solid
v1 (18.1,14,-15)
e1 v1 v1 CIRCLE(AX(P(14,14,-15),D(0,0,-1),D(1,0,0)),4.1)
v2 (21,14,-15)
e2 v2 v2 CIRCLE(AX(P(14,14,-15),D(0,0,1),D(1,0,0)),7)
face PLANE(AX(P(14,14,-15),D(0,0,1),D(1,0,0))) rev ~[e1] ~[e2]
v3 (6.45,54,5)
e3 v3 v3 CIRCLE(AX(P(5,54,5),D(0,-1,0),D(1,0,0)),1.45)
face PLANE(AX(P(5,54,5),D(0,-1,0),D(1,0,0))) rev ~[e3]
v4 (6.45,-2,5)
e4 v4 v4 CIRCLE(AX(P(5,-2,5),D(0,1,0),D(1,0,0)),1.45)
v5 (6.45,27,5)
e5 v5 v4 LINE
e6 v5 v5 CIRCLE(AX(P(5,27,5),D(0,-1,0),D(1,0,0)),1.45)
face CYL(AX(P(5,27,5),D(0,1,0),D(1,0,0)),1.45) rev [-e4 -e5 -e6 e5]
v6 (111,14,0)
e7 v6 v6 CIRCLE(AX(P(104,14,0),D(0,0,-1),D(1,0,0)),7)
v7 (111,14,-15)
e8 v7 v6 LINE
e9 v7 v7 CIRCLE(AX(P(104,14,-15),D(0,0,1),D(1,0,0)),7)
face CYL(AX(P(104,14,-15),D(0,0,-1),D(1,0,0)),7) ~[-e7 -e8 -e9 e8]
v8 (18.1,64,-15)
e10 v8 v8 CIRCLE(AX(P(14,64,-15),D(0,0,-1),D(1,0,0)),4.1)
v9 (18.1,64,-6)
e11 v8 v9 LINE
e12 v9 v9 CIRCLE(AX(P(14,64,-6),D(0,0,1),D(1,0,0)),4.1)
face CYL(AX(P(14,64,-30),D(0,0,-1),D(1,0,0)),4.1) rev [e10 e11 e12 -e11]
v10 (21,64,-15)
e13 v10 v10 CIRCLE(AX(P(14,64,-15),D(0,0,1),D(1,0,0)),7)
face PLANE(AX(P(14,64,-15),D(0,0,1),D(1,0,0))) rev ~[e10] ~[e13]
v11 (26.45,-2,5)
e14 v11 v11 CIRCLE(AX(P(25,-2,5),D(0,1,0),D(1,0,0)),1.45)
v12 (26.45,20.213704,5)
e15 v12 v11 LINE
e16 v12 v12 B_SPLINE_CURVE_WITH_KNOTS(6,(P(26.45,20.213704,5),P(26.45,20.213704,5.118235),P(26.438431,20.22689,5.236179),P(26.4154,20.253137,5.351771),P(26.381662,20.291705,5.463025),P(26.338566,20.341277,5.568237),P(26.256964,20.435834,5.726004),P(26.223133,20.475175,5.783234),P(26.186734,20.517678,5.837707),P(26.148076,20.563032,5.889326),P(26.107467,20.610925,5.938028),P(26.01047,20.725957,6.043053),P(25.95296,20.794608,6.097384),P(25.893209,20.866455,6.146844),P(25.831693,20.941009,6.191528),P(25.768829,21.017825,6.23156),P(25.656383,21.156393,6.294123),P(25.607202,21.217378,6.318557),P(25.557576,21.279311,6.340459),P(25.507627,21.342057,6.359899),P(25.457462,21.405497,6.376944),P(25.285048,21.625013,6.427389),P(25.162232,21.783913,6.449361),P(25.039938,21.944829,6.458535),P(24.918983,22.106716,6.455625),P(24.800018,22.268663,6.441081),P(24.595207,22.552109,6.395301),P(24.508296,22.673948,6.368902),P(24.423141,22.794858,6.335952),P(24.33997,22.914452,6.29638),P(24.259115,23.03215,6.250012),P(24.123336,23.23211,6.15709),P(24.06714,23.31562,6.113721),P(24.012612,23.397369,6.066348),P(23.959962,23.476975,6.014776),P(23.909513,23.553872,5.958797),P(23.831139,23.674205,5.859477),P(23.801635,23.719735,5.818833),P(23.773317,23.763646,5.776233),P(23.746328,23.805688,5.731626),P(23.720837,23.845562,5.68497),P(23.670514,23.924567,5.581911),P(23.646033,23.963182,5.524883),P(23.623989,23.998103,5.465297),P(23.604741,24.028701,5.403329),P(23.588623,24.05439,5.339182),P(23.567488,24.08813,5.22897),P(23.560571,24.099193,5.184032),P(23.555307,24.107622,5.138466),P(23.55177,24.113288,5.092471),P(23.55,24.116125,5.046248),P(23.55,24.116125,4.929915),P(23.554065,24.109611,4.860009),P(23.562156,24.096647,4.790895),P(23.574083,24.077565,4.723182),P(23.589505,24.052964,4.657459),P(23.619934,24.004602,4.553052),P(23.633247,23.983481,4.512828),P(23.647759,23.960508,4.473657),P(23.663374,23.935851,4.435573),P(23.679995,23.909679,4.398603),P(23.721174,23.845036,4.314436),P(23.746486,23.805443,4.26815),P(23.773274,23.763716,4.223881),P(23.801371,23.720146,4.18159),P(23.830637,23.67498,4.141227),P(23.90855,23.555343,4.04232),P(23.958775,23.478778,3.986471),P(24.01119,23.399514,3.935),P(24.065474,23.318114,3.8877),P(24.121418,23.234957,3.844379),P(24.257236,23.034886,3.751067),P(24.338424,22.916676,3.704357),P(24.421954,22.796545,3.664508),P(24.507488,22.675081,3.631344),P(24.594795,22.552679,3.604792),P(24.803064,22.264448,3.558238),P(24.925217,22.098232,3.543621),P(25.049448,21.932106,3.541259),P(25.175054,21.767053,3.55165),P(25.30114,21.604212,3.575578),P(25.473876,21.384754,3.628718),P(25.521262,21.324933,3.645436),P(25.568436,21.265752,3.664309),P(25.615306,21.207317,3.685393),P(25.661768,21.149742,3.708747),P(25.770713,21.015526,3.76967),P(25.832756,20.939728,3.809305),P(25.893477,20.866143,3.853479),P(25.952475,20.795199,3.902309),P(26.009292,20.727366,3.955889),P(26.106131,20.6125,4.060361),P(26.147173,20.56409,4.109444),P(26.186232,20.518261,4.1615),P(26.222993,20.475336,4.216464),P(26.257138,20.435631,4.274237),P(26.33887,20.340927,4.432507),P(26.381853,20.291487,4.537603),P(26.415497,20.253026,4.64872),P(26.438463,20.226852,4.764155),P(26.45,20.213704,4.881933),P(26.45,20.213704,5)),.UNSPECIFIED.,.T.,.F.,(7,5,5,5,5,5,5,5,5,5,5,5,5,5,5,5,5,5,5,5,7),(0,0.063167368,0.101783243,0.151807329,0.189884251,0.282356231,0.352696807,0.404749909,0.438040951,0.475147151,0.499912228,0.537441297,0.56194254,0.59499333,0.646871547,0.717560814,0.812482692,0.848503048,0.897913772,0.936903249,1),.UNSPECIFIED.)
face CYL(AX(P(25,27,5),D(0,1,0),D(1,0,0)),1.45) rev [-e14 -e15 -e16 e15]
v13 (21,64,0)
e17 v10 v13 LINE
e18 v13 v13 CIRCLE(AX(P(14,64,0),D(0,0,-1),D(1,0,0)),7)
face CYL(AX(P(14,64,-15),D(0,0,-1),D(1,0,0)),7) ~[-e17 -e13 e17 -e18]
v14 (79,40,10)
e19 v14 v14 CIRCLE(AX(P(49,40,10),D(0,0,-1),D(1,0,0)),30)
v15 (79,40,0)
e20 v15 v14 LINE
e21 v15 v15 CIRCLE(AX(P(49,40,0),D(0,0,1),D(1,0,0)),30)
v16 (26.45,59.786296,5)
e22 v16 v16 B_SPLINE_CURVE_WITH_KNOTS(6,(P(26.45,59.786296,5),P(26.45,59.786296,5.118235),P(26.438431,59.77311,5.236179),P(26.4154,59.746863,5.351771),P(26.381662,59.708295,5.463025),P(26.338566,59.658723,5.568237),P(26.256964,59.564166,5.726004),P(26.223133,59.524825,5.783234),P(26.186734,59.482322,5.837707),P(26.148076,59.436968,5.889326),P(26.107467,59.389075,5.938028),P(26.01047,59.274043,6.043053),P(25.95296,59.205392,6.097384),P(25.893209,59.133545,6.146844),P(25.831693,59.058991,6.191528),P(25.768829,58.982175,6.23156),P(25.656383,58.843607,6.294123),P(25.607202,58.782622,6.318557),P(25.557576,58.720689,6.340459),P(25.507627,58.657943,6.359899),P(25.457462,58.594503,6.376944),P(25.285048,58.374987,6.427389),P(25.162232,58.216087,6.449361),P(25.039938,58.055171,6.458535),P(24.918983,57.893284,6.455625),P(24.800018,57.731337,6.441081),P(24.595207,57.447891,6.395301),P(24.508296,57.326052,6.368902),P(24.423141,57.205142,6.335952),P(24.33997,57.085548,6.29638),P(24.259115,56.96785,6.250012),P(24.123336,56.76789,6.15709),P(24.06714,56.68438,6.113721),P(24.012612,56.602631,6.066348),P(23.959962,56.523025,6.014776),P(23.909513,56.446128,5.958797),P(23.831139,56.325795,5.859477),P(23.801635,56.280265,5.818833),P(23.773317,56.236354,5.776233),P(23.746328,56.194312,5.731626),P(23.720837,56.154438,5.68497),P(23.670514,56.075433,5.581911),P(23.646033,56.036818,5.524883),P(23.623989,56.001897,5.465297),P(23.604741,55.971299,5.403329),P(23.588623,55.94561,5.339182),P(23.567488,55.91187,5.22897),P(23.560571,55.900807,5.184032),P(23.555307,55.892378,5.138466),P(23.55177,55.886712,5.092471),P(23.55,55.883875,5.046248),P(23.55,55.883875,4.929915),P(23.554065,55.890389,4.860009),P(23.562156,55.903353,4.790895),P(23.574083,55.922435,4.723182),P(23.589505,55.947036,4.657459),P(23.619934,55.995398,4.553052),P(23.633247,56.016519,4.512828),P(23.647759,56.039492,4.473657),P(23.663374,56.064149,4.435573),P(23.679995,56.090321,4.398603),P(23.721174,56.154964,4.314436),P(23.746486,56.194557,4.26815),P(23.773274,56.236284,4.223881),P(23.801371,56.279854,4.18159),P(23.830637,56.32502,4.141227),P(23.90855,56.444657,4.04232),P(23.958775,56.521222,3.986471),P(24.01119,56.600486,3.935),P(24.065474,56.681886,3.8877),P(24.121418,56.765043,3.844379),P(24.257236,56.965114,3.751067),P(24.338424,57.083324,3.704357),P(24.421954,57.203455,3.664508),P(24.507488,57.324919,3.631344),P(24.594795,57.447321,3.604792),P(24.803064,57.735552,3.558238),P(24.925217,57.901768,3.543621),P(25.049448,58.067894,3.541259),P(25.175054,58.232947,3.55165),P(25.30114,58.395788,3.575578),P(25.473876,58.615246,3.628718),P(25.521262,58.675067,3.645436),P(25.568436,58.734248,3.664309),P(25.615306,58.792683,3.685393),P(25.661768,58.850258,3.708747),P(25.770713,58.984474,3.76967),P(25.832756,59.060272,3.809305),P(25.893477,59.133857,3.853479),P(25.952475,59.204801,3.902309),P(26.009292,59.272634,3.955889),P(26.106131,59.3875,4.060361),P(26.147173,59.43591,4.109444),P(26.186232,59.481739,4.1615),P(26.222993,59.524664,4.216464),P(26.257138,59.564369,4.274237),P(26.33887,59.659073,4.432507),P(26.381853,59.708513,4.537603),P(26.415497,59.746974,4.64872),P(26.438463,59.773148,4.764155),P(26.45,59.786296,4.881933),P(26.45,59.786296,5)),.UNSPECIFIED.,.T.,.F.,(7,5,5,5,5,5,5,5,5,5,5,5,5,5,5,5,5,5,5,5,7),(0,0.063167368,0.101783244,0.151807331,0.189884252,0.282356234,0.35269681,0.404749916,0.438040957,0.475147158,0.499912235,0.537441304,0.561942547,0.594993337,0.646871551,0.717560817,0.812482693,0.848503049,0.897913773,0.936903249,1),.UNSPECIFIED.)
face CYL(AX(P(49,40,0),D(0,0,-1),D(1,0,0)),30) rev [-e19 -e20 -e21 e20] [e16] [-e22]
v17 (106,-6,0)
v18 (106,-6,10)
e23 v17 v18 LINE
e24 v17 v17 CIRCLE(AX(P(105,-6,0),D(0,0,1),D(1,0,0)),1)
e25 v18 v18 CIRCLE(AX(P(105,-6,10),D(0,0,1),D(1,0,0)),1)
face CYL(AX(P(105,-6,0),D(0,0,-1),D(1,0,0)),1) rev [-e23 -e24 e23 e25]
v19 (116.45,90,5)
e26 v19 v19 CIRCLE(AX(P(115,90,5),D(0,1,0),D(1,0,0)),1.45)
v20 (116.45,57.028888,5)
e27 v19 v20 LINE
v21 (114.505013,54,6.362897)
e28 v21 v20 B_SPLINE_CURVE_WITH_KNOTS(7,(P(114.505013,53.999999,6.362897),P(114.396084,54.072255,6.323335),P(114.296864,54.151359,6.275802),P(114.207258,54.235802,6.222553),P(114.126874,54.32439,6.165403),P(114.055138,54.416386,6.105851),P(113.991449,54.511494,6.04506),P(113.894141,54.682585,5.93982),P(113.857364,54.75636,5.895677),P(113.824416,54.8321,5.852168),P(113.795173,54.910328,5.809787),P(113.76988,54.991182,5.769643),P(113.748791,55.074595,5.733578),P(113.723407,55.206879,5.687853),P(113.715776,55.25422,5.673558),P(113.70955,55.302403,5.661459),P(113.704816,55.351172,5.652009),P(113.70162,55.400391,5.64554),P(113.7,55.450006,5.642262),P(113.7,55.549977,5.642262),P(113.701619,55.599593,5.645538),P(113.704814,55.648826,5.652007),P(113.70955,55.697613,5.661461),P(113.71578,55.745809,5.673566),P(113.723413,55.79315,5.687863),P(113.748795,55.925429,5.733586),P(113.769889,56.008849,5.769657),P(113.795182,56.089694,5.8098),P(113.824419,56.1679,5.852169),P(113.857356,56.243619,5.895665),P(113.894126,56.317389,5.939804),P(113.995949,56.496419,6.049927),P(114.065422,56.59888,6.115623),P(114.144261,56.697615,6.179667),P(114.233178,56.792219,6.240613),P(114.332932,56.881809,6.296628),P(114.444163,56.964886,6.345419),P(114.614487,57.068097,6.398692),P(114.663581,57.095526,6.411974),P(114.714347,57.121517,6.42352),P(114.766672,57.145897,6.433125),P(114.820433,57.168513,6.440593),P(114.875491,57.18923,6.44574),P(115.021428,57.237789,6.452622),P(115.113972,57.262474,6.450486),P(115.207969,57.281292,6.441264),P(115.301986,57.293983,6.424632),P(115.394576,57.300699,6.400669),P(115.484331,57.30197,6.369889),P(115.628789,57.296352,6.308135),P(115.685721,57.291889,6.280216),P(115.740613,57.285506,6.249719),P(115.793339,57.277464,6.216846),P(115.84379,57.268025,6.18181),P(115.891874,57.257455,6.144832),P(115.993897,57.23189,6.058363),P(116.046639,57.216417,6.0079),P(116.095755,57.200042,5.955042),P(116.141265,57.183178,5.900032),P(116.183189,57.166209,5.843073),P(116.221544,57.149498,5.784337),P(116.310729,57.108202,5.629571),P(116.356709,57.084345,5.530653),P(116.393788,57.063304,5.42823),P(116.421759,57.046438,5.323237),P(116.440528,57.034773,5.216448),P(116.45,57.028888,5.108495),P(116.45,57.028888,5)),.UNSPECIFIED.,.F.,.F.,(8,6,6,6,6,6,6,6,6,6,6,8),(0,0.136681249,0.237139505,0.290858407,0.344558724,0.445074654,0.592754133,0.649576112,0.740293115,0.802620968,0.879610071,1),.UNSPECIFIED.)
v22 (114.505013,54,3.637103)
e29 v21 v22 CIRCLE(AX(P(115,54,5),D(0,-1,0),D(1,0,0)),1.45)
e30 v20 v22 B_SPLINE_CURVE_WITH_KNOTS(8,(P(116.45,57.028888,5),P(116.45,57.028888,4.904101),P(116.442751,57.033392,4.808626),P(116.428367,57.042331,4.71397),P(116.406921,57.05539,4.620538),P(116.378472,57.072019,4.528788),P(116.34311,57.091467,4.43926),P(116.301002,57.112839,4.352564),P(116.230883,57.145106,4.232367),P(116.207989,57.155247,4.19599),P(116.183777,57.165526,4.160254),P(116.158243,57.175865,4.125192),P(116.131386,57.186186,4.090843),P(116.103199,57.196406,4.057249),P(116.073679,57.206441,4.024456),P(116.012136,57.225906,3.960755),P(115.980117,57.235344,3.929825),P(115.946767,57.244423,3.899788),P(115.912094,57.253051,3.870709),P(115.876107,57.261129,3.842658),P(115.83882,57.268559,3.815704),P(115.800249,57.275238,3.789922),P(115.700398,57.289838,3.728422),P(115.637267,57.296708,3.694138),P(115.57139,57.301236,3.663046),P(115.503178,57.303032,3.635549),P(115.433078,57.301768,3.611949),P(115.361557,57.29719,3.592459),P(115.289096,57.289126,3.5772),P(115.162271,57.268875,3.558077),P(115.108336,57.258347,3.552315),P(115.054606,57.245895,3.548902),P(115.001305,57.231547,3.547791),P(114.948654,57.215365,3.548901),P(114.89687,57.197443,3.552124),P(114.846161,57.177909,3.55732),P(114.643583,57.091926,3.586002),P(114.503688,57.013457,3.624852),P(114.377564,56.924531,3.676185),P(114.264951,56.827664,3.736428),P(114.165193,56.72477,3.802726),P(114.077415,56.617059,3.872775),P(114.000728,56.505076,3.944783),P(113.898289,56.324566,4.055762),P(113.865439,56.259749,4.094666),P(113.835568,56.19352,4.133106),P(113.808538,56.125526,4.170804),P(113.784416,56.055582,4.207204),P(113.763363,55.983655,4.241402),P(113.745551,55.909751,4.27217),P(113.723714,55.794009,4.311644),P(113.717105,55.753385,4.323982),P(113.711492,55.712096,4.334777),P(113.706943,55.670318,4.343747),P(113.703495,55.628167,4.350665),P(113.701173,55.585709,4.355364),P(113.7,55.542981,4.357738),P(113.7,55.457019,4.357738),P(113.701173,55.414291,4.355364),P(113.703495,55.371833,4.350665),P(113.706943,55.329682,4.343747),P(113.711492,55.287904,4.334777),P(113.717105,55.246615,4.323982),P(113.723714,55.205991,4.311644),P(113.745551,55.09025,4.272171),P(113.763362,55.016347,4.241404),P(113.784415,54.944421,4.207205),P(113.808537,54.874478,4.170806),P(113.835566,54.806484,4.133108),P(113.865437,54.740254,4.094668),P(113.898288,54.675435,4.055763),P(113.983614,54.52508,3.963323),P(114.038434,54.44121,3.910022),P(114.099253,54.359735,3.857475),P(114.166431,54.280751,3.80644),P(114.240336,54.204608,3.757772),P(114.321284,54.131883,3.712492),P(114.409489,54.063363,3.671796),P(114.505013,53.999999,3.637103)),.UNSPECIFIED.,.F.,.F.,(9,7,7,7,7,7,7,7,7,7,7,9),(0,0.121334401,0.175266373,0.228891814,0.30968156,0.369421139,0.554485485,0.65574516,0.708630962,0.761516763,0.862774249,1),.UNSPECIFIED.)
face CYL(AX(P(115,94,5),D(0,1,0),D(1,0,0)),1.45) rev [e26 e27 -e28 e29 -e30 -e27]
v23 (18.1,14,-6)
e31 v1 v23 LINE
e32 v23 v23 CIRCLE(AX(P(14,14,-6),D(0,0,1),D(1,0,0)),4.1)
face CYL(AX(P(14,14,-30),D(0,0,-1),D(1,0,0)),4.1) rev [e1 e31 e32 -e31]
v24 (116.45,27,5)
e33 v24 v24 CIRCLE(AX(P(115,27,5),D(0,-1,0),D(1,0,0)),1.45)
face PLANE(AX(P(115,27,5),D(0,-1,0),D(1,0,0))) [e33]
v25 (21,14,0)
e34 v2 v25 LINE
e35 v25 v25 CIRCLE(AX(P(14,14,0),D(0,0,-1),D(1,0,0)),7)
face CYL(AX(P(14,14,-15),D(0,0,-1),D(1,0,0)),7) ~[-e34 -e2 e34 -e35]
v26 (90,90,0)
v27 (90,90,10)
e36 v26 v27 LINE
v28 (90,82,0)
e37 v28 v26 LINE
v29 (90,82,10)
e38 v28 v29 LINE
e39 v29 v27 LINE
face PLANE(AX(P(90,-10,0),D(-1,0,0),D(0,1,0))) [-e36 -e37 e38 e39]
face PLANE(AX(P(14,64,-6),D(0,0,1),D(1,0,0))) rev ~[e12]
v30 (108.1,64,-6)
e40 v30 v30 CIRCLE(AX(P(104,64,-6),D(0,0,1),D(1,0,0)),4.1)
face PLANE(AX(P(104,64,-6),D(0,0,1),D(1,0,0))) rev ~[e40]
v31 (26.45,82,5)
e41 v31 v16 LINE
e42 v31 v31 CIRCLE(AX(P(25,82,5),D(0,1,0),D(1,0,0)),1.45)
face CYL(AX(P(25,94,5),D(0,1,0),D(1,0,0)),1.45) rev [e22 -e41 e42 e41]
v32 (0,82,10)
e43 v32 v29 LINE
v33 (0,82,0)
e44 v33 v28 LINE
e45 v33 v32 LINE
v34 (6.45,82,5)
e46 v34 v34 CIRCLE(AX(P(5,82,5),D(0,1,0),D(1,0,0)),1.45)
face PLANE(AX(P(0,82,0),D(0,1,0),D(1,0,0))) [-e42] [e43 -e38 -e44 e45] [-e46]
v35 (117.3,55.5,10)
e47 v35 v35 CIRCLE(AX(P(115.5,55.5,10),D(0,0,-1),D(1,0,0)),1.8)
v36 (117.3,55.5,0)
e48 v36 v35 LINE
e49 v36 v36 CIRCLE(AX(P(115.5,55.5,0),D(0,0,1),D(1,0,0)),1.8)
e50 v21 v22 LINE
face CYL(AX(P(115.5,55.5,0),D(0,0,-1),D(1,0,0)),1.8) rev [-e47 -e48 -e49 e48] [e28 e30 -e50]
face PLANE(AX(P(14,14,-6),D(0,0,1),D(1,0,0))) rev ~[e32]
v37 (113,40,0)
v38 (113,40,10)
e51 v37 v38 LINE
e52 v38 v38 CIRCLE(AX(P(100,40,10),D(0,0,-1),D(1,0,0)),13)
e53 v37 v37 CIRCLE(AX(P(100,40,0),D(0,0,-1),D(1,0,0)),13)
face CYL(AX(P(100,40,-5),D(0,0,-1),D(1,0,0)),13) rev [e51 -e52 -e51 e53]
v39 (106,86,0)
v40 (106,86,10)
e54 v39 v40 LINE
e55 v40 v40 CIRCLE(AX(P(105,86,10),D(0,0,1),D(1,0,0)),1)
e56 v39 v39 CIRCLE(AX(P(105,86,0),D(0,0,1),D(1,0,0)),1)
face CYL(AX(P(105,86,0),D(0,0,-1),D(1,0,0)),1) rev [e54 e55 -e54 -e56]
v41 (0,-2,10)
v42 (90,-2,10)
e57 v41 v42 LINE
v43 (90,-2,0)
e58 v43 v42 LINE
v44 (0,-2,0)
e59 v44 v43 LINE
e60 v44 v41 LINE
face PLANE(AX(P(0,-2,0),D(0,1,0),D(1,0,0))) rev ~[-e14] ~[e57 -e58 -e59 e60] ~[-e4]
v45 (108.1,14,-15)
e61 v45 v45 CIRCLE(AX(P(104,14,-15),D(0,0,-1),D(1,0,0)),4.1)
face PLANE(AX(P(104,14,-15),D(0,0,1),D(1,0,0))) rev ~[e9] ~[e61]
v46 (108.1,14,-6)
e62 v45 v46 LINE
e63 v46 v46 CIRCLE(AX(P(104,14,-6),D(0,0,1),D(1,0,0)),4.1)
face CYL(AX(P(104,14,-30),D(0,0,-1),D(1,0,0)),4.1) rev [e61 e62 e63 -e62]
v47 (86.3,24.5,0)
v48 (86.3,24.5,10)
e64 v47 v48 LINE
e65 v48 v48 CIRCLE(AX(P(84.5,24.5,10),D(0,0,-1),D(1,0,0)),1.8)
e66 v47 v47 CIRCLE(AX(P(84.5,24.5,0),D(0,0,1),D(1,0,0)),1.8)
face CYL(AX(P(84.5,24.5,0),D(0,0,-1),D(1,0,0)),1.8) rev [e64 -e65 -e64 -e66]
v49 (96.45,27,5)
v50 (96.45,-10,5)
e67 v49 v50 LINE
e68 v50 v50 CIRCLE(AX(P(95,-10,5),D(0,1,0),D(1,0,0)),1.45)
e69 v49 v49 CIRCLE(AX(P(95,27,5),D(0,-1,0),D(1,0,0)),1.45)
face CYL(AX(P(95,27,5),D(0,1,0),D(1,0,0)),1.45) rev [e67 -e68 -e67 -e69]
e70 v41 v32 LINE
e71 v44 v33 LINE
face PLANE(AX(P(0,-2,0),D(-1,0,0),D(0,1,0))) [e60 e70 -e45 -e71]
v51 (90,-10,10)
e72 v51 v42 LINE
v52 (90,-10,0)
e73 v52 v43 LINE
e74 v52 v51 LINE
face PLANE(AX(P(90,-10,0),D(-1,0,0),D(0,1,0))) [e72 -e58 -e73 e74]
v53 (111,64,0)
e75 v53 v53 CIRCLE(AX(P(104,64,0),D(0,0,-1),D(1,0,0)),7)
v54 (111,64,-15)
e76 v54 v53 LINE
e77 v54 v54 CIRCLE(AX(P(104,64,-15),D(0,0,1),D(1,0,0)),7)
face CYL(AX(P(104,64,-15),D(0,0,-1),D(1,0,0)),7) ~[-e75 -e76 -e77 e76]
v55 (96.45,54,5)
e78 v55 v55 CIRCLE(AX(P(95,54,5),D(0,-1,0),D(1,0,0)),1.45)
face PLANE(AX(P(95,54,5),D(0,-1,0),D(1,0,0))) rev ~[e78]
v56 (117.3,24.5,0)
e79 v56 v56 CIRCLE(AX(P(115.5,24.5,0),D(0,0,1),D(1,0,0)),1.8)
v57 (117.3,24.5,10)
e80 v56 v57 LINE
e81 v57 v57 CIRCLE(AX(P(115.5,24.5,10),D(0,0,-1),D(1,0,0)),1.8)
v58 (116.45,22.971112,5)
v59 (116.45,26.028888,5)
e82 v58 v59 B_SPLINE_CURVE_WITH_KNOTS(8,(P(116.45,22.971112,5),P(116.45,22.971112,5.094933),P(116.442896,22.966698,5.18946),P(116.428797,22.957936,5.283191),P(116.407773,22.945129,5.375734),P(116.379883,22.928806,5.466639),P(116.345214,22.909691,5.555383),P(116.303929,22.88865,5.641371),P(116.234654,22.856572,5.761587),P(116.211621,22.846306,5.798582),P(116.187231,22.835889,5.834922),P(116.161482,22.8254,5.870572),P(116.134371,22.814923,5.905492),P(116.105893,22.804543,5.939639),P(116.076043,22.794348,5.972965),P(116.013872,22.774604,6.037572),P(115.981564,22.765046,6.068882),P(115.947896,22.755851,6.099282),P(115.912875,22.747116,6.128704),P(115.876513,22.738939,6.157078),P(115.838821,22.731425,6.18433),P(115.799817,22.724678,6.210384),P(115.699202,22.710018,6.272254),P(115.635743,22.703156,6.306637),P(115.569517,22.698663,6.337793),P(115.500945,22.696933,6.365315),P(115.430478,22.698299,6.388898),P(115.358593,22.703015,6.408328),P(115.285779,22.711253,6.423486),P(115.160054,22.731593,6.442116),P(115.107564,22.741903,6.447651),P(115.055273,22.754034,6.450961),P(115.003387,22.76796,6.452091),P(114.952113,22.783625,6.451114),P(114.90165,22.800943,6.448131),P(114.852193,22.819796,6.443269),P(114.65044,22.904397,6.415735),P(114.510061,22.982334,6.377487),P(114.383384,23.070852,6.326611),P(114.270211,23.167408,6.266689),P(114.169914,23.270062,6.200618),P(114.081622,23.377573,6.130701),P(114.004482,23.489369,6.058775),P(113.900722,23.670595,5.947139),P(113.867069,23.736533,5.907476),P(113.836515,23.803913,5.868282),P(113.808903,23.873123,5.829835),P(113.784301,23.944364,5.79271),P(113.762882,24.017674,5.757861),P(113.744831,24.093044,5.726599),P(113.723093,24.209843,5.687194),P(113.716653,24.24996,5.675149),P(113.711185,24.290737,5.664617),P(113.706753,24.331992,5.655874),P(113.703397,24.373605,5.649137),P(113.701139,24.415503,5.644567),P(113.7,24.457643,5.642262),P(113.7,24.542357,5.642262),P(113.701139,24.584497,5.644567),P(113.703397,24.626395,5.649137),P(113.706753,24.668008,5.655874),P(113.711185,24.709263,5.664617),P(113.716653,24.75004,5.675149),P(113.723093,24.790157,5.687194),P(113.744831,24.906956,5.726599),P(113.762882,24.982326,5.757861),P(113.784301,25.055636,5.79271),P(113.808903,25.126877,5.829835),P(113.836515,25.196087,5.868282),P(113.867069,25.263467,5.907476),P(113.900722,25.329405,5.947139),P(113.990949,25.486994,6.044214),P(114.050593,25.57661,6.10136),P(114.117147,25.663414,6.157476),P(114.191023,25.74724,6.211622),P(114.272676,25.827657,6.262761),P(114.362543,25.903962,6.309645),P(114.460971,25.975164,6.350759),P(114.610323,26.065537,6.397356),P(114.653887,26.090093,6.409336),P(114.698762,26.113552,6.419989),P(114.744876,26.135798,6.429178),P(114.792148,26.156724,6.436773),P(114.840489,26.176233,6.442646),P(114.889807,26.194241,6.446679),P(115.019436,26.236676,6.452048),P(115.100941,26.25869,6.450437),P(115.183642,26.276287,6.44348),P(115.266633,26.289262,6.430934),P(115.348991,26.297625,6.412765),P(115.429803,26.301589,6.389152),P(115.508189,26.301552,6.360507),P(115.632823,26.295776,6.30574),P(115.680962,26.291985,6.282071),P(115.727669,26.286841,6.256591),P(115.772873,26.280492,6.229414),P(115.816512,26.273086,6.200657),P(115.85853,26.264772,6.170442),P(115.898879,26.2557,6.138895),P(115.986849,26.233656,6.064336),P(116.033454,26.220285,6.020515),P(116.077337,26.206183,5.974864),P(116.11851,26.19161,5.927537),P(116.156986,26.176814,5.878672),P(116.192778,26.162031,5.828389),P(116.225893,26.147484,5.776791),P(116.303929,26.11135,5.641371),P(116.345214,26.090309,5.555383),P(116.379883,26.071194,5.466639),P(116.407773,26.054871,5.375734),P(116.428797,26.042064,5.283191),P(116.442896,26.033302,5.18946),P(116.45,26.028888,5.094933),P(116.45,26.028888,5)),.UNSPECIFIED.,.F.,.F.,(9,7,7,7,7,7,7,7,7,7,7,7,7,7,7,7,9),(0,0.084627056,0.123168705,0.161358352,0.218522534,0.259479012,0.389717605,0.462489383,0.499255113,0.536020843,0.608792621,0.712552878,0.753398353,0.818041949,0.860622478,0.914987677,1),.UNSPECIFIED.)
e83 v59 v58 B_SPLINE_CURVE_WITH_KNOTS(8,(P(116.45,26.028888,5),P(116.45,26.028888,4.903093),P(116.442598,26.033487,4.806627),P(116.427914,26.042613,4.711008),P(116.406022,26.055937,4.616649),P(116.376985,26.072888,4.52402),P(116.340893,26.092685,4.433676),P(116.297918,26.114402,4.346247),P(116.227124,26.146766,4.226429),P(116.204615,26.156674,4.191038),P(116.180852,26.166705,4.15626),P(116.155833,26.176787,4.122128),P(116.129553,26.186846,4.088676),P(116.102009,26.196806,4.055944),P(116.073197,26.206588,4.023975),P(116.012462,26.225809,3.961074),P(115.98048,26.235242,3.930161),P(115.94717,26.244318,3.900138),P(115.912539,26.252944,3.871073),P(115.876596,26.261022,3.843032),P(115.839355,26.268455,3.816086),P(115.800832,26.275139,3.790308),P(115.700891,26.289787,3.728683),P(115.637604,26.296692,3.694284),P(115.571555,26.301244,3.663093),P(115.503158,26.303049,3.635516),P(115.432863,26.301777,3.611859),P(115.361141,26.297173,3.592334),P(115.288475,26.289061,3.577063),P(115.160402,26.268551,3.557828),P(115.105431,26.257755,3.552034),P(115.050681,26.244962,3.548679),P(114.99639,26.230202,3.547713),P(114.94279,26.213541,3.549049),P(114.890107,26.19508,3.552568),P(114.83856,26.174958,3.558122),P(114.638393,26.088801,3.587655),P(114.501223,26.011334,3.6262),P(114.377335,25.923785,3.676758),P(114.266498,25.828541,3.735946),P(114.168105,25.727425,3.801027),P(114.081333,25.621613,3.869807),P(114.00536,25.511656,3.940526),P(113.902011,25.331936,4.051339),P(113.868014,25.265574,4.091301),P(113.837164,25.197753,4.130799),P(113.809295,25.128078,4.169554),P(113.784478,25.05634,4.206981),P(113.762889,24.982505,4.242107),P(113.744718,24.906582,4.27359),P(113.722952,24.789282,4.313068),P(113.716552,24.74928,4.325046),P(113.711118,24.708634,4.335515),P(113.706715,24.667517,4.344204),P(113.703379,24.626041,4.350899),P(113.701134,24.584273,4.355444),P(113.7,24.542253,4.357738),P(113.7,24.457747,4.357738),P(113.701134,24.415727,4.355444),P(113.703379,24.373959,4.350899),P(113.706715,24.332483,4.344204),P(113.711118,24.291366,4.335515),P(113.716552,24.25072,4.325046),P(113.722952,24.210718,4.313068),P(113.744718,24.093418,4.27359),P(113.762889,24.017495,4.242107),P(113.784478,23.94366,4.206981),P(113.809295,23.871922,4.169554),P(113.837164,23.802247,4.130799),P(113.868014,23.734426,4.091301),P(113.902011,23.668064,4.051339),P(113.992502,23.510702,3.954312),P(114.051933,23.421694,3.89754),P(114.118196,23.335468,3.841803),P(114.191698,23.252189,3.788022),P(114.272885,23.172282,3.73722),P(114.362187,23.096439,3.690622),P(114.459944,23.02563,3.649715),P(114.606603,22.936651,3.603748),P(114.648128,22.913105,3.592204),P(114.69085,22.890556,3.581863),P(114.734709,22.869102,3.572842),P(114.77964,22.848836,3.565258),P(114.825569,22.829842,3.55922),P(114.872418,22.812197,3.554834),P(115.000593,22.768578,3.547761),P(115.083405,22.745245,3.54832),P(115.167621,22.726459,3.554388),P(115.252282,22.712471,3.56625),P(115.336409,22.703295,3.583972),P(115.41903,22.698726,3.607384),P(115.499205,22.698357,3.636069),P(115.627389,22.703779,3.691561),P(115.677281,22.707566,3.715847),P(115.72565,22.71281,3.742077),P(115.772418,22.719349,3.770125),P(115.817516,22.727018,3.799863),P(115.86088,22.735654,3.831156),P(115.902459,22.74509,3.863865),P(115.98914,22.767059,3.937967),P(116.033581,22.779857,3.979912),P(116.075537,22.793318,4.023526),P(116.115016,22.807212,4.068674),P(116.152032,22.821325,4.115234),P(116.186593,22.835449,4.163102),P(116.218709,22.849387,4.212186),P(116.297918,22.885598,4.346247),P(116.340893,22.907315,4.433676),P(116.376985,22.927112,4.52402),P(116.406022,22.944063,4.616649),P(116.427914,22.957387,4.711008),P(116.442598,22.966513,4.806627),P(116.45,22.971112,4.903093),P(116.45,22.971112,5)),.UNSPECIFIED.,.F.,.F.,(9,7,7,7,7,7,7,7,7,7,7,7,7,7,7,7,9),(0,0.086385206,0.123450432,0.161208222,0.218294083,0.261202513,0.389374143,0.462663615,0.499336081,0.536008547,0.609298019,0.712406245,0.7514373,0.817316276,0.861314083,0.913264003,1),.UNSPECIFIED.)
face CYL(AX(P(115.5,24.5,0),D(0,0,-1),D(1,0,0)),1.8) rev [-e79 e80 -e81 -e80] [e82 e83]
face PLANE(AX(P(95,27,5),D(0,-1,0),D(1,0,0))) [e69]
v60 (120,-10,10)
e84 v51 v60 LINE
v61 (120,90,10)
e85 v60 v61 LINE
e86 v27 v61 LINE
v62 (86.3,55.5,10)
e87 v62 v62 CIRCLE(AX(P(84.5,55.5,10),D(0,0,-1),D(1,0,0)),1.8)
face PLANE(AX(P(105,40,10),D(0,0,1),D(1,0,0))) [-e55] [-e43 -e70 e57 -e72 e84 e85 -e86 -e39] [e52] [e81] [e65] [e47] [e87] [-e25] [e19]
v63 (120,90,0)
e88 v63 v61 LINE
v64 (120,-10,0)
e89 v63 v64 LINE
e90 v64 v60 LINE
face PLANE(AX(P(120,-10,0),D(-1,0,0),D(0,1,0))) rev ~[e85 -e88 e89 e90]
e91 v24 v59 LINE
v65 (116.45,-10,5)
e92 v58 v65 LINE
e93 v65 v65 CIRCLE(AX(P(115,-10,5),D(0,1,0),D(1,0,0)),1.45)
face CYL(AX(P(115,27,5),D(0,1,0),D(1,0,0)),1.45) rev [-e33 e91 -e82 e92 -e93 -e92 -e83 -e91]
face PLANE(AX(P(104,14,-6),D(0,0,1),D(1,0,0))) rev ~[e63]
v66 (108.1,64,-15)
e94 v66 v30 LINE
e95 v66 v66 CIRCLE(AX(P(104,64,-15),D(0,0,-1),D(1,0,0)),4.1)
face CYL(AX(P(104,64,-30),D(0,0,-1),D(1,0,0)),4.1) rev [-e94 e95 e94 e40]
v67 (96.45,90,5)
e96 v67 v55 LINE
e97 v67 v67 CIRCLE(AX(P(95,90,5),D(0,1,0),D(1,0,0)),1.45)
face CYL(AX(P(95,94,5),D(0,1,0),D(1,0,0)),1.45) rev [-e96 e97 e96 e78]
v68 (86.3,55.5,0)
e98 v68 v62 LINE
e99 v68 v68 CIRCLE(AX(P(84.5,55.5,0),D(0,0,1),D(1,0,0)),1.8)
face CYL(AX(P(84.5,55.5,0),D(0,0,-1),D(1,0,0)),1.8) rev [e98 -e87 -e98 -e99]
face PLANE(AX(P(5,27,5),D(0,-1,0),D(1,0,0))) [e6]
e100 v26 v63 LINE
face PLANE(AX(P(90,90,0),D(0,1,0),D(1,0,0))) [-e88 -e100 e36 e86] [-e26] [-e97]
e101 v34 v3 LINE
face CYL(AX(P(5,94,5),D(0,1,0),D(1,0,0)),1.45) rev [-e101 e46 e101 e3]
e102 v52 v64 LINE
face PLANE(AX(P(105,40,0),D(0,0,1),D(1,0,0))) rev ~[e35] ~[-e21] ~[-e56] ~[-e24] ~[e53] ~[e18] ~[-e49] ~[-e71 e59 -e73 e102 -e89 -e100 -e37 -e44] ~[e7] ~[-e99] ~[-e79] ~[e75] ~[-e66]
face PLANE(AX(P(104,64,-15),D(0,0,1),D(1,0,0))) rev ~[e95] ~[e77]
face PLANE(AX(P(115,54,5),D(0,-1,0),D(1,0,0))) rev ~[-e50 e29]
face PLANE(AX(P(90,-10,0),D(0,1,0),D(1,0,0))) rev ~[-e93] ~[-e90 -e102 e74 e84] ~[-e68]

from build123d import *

# Parameters (mm, degrees)
CYLINDER023_R       = 1.8
CYLINDER023_DEPTH   = 20
ARRAY001003_X_COUNT = 2
ARRAY001003_X_PITCH = 31
ARRAY001003_Y_COUNT = 2
ARRAY001003_Y_PITCH = 31
CYLINDER020_R       = 13
CYLINDER020_DEPTH   = 30
CYLINDER024_R       = 30
CYLINDER024_DEPTH   = 30
CYLINDER039_R       = 1.45
CYLINDER039_DEPTH   = 40
ARRAY001020_X_COUNT = 2
ARRAY001020_X_PITCH = 20
ARRAY001021_X_COUNT = 2
ARRAY001021_X_PITCH = 90
CYLINDER041_R       = 1
CYLINDER041_DEPTH   = 10
ARRAY001023_Y_COUNT = 2
ARRAY001023_Y_PITCH = 92
CYLINDER022_R       = 4.1
CYLINDER022_DEPTH   = 24
ARRAY001002_X_COUNT = 2
ARRAY001002_X_PITCH = 90
ARRAY001002_Y_COUNT = 2
ARRAY001002_Y_PITCH = 50
CYLINDER025_R       = 7
CYLINDER025_DEPTH   = 25
ARRAY001004_X_COUNT = 2
ARRAY001004_X_PITCH = 90
ARRAY001004_Y_COUNT = 2
ARRAY001004_Y_PITCH = 50
BOX020_W            = 30
BOX020_H            = 100
BOX020_DEPTH        = 10
BOX002_W            = 120
BOX002_H            = 84
BOX002_DEPTH        = 10


with BuildPart() as motor_attachment_hole_array:
    # Cylinder023 → Cylinder023 (new body)
    with BuildSketch(Plane(origin=(84.5, 24.5, 0), x_dir=(1, 0, 0), z_dir=(0, 0, 1))):
        Circle(CYLINDER023_R)
    extrude(amount=CYLINDER023_DEPTH)

    # Array001003 X: motor attachment hole array ×2


with BuildPart() as motor_attachment_hole_array_1:
    add(motor_attachment_hole_array.part)
    with Locations(*[(i * ARRAY001003_X_PITCH, 0, 0) for i in range(1, ARRAY001003_X_COUNT)]):
        add(motor_attachment_hole_array.part)

    # Array001003 Y: motor attachment hole array ×2


with BuildPart() as motor_attachment_hole_array_2:
    add(motor_attachment_hole_array_1.part)
    with Locations(*[(0, i * ARRAY001003_Y_PITCH, 0) for i in range(1, ARRAY001003_Y_COUNT)]):
        add(motor_attachment_hole_array_1.part)


with BuildPart() as motor_hole_set_fusion:
    # Cylinder020 → Cylinder020 (new body)
    with BuildSketch(Plane(origin=(100, 40, -5), x_dir=(1, 0, 0), z_dir=(0, 0, 1))):
        Circle(CYLINDER020_R)
    extrude(amount=CYLINDER020_DEPTH)

    # Fusion010: union motor attachment hole array
    add(motor_attachment_hole_array_2.part)


with BuildPart() as central_hole001:
    # Cylinder024 → Cylinder024 (new body)
    with BuildSketch(Plane(origin=(49, 40, 0), x_dir=(1, 0, 0), z_dir=(0, 0, 1))):
        Circle(CYLINDER024_R)
    extrude(amount=CYLINDER024_DEPTH)


with BuildPart() as side_connector_narrow_hole_array_array:
    # Cylinder039 → Cylinder039 (new body)
    with BuildSketch(Plane.XZ):
        Circle(CYLINDER039_R)
    extrude(amount=CYLINDER039_DEPTH)

    # Array001020 X: side connector narrow hole array array ×2


with BuildPart() as side_connector_narrow_hole_array_array_1:
    add(side_connector_narrow_hole_array_array.part)
    with Locations(*[(i * ARRAY001020_X_PITCH, 0, 0) for i in range(1, ARRAY001020_X_COUNT)]):
        add(side_connector_narrow_hole_array_array.part)


with BuildPart() as side_connector_narrow_hole_array_array_2:
    # Array001020 placement: moved
    add(side_connector_narrow_hole_array_array_1.part.moved(Location((5, 0, 5))))

    # Array001021 X: side connector narrow hole array array ×2


with BuildPart() as side_connector_narrow_hole_array_array_3:
    add(side_connector_narrow_hole_array_array_2.part)
    with Locations(*[(i * ARRAY001021_X_PITCH, 0, 0) for i in range(1, ARRAY001021_X_COUNT)]):
        add(side_connector_narrow_hole_array_array_2.part)


with BuildPart() as side_connector_narrow_hole_array_array_4:
    # Array001021 placement: moved
    add(side_connector_narrow_hole_array_array_3.part.moved(Location((0, 27, 0))))


with BuildPart() as body009:
    # Body009 base: copy of side connector narrow hole array array
    add(side_connector_narrow_hole_array_array_4.part)


with BuildPart() as body009_1:
    # Body009 placement: moved
    add(body009.part.moved(Location((0, 67, 0))))


with BuildPart() as body010:
    # Body010 base: copy of side connector narrow hole array array
    add(side_connector_narrow_hole_array_array_4.part)


with BuildPart() as pusher_hole_array001:
    # Cylinder041 → Cylinder041 (new body)
    with BuildSketch(Plane(origin=(105, 0, 0), x_dir=(1, 0, 0), z_dir=(0, 0, 1))):
        Circle(CYLINDER041_R)
    extrude(amount=CYLINDER041_DEPTH)

    # Array001023 Y: pusher hole array001 ×2


with BuildPart() as pusher_hole_array001_1:
    add(pusher_hole_array001.part)
    with Locations(*[(0, i * ARRAY001023_Y_PITCH, 0) for i in range(1, ARRAY001023_Y_COUNT)]):
        add(pusher_hole_array001.part)


with BuildPart() as pusher_hole_array001_2:
    # Array001023 placement: moved
    add(pusher_hole_array001_1.part.moved(Location((0, -6, 0))))


with BuildPart() as motor_side_hole_fusion:
    # Cylinder022 → Cylinder022 (new body)
    with BuildSketch(Plane(origin=(14, 14, -30), x_dir=(1, 0, 0), z_dir=(0, 0, 1))):
        Circle(CYLINDER022_R)
    extrude(amount=CYLINDER022_DEPTH)

    # Array001002 X: motor side hole fusion ×2


with BuildPart() as motor_side_hole_fusion_1:
    add(motor_side_hole_fusion.part)
    with Locations(*[(i * ARRAY001002_X_PITCH, 0, 0) for i in range(1, ARRAY001002_X_COUNT)]):
        add(motor_side_hole_fusion.part)

    # Array001002 Y: motor side hole fusion ×2


with BuildPart() as motor_side_hole_fusion_2:
    add(motor_side_hole_fusion_1.part)
    with Locations(*[(0, i * ARRAY001002_Y_PITCH, 0) for i in range(1, ARRAY001002_Y_COUNT)]):
        add(motor_side_hole_fusion_1.part)

    # Fusion009: union motor hole set fusion, central hole001, Body009, Body010, pusher hole array001
    add(motor_hole_set_fusion.part)
    add(central_hole001.part)
    add(body009_1.part)
    add(body010.part)
    add(pusher_hole_array001_2.part)


with BuildPart() as rod_spacer_array:
    # Cylinder025 → Cylinder025 (new body)
    with BuildSketch(Plane(origin=(14, 14, -15), x_dir=(1, 0, 0), z_dir=(0, 0, 1))):
        Circle(CYLINDER025_R)
    extrude(amount=CYLINDER025_DEPTH)

    # Array001004 X: rod spacer array ×2


with BuildPart() as rod_spacer_array_1:
    add(rod_spacer_array.part)
    with Locations(*[(i * ARRAY001004_X_PITCH, 0, 0) for i in range(1, ARRAY001004_X_COUNT)]):
        add(rod_spacer_array.part)

    # Array001004 Y: rod spacer array ×2


with BuildPart() as rod_spacer_array_2:
    add(rod_spacer_array_1.part)
    with Locations(*[(0, i * ARRAY001004_Y_PITCH, 0) for i in range(1, ARRAY001004_Y_COUNT)]):
        add(rod_spacer_array_1.part)


with BuildPart() as motor_side_cube_extension:
    # Box020 → Box020 (new body)
    with BuildSketch(Plane(origin=(90, -10, 0), x_dir=(1, 0, 0), z_dir=(0, 0, 1))):
        with Locations((15, 50)):
            Rectangle(BOX020_W, BOX020_H)
    extrude(amount=BOX020_DEPTH)


with BuildPart() as motor_side_cut:
    # Box002 → Box002 (new body)
    with BuildSketch(Plane(origin=(0, -2, 0), x_dir=(1, 0, 0), z_dir=(0, 0, 1))):
        with Locations((60, 42)):
            Rectangle(BOX002_W, BOX002_H)
    extrude(amount=BOX002_DEPTH)

    # Fusion011: union rod spacer array, motor side cube extension
    add(rod_spacer_array_2.part)
    add(motor_side_cube_extension.part)

    # Cut003: cut motor side hole fusion
    add(motor_side_hole_fusion_2.part, mode=Mode.SUBTRACT)


solid = motor_side_cut.part
